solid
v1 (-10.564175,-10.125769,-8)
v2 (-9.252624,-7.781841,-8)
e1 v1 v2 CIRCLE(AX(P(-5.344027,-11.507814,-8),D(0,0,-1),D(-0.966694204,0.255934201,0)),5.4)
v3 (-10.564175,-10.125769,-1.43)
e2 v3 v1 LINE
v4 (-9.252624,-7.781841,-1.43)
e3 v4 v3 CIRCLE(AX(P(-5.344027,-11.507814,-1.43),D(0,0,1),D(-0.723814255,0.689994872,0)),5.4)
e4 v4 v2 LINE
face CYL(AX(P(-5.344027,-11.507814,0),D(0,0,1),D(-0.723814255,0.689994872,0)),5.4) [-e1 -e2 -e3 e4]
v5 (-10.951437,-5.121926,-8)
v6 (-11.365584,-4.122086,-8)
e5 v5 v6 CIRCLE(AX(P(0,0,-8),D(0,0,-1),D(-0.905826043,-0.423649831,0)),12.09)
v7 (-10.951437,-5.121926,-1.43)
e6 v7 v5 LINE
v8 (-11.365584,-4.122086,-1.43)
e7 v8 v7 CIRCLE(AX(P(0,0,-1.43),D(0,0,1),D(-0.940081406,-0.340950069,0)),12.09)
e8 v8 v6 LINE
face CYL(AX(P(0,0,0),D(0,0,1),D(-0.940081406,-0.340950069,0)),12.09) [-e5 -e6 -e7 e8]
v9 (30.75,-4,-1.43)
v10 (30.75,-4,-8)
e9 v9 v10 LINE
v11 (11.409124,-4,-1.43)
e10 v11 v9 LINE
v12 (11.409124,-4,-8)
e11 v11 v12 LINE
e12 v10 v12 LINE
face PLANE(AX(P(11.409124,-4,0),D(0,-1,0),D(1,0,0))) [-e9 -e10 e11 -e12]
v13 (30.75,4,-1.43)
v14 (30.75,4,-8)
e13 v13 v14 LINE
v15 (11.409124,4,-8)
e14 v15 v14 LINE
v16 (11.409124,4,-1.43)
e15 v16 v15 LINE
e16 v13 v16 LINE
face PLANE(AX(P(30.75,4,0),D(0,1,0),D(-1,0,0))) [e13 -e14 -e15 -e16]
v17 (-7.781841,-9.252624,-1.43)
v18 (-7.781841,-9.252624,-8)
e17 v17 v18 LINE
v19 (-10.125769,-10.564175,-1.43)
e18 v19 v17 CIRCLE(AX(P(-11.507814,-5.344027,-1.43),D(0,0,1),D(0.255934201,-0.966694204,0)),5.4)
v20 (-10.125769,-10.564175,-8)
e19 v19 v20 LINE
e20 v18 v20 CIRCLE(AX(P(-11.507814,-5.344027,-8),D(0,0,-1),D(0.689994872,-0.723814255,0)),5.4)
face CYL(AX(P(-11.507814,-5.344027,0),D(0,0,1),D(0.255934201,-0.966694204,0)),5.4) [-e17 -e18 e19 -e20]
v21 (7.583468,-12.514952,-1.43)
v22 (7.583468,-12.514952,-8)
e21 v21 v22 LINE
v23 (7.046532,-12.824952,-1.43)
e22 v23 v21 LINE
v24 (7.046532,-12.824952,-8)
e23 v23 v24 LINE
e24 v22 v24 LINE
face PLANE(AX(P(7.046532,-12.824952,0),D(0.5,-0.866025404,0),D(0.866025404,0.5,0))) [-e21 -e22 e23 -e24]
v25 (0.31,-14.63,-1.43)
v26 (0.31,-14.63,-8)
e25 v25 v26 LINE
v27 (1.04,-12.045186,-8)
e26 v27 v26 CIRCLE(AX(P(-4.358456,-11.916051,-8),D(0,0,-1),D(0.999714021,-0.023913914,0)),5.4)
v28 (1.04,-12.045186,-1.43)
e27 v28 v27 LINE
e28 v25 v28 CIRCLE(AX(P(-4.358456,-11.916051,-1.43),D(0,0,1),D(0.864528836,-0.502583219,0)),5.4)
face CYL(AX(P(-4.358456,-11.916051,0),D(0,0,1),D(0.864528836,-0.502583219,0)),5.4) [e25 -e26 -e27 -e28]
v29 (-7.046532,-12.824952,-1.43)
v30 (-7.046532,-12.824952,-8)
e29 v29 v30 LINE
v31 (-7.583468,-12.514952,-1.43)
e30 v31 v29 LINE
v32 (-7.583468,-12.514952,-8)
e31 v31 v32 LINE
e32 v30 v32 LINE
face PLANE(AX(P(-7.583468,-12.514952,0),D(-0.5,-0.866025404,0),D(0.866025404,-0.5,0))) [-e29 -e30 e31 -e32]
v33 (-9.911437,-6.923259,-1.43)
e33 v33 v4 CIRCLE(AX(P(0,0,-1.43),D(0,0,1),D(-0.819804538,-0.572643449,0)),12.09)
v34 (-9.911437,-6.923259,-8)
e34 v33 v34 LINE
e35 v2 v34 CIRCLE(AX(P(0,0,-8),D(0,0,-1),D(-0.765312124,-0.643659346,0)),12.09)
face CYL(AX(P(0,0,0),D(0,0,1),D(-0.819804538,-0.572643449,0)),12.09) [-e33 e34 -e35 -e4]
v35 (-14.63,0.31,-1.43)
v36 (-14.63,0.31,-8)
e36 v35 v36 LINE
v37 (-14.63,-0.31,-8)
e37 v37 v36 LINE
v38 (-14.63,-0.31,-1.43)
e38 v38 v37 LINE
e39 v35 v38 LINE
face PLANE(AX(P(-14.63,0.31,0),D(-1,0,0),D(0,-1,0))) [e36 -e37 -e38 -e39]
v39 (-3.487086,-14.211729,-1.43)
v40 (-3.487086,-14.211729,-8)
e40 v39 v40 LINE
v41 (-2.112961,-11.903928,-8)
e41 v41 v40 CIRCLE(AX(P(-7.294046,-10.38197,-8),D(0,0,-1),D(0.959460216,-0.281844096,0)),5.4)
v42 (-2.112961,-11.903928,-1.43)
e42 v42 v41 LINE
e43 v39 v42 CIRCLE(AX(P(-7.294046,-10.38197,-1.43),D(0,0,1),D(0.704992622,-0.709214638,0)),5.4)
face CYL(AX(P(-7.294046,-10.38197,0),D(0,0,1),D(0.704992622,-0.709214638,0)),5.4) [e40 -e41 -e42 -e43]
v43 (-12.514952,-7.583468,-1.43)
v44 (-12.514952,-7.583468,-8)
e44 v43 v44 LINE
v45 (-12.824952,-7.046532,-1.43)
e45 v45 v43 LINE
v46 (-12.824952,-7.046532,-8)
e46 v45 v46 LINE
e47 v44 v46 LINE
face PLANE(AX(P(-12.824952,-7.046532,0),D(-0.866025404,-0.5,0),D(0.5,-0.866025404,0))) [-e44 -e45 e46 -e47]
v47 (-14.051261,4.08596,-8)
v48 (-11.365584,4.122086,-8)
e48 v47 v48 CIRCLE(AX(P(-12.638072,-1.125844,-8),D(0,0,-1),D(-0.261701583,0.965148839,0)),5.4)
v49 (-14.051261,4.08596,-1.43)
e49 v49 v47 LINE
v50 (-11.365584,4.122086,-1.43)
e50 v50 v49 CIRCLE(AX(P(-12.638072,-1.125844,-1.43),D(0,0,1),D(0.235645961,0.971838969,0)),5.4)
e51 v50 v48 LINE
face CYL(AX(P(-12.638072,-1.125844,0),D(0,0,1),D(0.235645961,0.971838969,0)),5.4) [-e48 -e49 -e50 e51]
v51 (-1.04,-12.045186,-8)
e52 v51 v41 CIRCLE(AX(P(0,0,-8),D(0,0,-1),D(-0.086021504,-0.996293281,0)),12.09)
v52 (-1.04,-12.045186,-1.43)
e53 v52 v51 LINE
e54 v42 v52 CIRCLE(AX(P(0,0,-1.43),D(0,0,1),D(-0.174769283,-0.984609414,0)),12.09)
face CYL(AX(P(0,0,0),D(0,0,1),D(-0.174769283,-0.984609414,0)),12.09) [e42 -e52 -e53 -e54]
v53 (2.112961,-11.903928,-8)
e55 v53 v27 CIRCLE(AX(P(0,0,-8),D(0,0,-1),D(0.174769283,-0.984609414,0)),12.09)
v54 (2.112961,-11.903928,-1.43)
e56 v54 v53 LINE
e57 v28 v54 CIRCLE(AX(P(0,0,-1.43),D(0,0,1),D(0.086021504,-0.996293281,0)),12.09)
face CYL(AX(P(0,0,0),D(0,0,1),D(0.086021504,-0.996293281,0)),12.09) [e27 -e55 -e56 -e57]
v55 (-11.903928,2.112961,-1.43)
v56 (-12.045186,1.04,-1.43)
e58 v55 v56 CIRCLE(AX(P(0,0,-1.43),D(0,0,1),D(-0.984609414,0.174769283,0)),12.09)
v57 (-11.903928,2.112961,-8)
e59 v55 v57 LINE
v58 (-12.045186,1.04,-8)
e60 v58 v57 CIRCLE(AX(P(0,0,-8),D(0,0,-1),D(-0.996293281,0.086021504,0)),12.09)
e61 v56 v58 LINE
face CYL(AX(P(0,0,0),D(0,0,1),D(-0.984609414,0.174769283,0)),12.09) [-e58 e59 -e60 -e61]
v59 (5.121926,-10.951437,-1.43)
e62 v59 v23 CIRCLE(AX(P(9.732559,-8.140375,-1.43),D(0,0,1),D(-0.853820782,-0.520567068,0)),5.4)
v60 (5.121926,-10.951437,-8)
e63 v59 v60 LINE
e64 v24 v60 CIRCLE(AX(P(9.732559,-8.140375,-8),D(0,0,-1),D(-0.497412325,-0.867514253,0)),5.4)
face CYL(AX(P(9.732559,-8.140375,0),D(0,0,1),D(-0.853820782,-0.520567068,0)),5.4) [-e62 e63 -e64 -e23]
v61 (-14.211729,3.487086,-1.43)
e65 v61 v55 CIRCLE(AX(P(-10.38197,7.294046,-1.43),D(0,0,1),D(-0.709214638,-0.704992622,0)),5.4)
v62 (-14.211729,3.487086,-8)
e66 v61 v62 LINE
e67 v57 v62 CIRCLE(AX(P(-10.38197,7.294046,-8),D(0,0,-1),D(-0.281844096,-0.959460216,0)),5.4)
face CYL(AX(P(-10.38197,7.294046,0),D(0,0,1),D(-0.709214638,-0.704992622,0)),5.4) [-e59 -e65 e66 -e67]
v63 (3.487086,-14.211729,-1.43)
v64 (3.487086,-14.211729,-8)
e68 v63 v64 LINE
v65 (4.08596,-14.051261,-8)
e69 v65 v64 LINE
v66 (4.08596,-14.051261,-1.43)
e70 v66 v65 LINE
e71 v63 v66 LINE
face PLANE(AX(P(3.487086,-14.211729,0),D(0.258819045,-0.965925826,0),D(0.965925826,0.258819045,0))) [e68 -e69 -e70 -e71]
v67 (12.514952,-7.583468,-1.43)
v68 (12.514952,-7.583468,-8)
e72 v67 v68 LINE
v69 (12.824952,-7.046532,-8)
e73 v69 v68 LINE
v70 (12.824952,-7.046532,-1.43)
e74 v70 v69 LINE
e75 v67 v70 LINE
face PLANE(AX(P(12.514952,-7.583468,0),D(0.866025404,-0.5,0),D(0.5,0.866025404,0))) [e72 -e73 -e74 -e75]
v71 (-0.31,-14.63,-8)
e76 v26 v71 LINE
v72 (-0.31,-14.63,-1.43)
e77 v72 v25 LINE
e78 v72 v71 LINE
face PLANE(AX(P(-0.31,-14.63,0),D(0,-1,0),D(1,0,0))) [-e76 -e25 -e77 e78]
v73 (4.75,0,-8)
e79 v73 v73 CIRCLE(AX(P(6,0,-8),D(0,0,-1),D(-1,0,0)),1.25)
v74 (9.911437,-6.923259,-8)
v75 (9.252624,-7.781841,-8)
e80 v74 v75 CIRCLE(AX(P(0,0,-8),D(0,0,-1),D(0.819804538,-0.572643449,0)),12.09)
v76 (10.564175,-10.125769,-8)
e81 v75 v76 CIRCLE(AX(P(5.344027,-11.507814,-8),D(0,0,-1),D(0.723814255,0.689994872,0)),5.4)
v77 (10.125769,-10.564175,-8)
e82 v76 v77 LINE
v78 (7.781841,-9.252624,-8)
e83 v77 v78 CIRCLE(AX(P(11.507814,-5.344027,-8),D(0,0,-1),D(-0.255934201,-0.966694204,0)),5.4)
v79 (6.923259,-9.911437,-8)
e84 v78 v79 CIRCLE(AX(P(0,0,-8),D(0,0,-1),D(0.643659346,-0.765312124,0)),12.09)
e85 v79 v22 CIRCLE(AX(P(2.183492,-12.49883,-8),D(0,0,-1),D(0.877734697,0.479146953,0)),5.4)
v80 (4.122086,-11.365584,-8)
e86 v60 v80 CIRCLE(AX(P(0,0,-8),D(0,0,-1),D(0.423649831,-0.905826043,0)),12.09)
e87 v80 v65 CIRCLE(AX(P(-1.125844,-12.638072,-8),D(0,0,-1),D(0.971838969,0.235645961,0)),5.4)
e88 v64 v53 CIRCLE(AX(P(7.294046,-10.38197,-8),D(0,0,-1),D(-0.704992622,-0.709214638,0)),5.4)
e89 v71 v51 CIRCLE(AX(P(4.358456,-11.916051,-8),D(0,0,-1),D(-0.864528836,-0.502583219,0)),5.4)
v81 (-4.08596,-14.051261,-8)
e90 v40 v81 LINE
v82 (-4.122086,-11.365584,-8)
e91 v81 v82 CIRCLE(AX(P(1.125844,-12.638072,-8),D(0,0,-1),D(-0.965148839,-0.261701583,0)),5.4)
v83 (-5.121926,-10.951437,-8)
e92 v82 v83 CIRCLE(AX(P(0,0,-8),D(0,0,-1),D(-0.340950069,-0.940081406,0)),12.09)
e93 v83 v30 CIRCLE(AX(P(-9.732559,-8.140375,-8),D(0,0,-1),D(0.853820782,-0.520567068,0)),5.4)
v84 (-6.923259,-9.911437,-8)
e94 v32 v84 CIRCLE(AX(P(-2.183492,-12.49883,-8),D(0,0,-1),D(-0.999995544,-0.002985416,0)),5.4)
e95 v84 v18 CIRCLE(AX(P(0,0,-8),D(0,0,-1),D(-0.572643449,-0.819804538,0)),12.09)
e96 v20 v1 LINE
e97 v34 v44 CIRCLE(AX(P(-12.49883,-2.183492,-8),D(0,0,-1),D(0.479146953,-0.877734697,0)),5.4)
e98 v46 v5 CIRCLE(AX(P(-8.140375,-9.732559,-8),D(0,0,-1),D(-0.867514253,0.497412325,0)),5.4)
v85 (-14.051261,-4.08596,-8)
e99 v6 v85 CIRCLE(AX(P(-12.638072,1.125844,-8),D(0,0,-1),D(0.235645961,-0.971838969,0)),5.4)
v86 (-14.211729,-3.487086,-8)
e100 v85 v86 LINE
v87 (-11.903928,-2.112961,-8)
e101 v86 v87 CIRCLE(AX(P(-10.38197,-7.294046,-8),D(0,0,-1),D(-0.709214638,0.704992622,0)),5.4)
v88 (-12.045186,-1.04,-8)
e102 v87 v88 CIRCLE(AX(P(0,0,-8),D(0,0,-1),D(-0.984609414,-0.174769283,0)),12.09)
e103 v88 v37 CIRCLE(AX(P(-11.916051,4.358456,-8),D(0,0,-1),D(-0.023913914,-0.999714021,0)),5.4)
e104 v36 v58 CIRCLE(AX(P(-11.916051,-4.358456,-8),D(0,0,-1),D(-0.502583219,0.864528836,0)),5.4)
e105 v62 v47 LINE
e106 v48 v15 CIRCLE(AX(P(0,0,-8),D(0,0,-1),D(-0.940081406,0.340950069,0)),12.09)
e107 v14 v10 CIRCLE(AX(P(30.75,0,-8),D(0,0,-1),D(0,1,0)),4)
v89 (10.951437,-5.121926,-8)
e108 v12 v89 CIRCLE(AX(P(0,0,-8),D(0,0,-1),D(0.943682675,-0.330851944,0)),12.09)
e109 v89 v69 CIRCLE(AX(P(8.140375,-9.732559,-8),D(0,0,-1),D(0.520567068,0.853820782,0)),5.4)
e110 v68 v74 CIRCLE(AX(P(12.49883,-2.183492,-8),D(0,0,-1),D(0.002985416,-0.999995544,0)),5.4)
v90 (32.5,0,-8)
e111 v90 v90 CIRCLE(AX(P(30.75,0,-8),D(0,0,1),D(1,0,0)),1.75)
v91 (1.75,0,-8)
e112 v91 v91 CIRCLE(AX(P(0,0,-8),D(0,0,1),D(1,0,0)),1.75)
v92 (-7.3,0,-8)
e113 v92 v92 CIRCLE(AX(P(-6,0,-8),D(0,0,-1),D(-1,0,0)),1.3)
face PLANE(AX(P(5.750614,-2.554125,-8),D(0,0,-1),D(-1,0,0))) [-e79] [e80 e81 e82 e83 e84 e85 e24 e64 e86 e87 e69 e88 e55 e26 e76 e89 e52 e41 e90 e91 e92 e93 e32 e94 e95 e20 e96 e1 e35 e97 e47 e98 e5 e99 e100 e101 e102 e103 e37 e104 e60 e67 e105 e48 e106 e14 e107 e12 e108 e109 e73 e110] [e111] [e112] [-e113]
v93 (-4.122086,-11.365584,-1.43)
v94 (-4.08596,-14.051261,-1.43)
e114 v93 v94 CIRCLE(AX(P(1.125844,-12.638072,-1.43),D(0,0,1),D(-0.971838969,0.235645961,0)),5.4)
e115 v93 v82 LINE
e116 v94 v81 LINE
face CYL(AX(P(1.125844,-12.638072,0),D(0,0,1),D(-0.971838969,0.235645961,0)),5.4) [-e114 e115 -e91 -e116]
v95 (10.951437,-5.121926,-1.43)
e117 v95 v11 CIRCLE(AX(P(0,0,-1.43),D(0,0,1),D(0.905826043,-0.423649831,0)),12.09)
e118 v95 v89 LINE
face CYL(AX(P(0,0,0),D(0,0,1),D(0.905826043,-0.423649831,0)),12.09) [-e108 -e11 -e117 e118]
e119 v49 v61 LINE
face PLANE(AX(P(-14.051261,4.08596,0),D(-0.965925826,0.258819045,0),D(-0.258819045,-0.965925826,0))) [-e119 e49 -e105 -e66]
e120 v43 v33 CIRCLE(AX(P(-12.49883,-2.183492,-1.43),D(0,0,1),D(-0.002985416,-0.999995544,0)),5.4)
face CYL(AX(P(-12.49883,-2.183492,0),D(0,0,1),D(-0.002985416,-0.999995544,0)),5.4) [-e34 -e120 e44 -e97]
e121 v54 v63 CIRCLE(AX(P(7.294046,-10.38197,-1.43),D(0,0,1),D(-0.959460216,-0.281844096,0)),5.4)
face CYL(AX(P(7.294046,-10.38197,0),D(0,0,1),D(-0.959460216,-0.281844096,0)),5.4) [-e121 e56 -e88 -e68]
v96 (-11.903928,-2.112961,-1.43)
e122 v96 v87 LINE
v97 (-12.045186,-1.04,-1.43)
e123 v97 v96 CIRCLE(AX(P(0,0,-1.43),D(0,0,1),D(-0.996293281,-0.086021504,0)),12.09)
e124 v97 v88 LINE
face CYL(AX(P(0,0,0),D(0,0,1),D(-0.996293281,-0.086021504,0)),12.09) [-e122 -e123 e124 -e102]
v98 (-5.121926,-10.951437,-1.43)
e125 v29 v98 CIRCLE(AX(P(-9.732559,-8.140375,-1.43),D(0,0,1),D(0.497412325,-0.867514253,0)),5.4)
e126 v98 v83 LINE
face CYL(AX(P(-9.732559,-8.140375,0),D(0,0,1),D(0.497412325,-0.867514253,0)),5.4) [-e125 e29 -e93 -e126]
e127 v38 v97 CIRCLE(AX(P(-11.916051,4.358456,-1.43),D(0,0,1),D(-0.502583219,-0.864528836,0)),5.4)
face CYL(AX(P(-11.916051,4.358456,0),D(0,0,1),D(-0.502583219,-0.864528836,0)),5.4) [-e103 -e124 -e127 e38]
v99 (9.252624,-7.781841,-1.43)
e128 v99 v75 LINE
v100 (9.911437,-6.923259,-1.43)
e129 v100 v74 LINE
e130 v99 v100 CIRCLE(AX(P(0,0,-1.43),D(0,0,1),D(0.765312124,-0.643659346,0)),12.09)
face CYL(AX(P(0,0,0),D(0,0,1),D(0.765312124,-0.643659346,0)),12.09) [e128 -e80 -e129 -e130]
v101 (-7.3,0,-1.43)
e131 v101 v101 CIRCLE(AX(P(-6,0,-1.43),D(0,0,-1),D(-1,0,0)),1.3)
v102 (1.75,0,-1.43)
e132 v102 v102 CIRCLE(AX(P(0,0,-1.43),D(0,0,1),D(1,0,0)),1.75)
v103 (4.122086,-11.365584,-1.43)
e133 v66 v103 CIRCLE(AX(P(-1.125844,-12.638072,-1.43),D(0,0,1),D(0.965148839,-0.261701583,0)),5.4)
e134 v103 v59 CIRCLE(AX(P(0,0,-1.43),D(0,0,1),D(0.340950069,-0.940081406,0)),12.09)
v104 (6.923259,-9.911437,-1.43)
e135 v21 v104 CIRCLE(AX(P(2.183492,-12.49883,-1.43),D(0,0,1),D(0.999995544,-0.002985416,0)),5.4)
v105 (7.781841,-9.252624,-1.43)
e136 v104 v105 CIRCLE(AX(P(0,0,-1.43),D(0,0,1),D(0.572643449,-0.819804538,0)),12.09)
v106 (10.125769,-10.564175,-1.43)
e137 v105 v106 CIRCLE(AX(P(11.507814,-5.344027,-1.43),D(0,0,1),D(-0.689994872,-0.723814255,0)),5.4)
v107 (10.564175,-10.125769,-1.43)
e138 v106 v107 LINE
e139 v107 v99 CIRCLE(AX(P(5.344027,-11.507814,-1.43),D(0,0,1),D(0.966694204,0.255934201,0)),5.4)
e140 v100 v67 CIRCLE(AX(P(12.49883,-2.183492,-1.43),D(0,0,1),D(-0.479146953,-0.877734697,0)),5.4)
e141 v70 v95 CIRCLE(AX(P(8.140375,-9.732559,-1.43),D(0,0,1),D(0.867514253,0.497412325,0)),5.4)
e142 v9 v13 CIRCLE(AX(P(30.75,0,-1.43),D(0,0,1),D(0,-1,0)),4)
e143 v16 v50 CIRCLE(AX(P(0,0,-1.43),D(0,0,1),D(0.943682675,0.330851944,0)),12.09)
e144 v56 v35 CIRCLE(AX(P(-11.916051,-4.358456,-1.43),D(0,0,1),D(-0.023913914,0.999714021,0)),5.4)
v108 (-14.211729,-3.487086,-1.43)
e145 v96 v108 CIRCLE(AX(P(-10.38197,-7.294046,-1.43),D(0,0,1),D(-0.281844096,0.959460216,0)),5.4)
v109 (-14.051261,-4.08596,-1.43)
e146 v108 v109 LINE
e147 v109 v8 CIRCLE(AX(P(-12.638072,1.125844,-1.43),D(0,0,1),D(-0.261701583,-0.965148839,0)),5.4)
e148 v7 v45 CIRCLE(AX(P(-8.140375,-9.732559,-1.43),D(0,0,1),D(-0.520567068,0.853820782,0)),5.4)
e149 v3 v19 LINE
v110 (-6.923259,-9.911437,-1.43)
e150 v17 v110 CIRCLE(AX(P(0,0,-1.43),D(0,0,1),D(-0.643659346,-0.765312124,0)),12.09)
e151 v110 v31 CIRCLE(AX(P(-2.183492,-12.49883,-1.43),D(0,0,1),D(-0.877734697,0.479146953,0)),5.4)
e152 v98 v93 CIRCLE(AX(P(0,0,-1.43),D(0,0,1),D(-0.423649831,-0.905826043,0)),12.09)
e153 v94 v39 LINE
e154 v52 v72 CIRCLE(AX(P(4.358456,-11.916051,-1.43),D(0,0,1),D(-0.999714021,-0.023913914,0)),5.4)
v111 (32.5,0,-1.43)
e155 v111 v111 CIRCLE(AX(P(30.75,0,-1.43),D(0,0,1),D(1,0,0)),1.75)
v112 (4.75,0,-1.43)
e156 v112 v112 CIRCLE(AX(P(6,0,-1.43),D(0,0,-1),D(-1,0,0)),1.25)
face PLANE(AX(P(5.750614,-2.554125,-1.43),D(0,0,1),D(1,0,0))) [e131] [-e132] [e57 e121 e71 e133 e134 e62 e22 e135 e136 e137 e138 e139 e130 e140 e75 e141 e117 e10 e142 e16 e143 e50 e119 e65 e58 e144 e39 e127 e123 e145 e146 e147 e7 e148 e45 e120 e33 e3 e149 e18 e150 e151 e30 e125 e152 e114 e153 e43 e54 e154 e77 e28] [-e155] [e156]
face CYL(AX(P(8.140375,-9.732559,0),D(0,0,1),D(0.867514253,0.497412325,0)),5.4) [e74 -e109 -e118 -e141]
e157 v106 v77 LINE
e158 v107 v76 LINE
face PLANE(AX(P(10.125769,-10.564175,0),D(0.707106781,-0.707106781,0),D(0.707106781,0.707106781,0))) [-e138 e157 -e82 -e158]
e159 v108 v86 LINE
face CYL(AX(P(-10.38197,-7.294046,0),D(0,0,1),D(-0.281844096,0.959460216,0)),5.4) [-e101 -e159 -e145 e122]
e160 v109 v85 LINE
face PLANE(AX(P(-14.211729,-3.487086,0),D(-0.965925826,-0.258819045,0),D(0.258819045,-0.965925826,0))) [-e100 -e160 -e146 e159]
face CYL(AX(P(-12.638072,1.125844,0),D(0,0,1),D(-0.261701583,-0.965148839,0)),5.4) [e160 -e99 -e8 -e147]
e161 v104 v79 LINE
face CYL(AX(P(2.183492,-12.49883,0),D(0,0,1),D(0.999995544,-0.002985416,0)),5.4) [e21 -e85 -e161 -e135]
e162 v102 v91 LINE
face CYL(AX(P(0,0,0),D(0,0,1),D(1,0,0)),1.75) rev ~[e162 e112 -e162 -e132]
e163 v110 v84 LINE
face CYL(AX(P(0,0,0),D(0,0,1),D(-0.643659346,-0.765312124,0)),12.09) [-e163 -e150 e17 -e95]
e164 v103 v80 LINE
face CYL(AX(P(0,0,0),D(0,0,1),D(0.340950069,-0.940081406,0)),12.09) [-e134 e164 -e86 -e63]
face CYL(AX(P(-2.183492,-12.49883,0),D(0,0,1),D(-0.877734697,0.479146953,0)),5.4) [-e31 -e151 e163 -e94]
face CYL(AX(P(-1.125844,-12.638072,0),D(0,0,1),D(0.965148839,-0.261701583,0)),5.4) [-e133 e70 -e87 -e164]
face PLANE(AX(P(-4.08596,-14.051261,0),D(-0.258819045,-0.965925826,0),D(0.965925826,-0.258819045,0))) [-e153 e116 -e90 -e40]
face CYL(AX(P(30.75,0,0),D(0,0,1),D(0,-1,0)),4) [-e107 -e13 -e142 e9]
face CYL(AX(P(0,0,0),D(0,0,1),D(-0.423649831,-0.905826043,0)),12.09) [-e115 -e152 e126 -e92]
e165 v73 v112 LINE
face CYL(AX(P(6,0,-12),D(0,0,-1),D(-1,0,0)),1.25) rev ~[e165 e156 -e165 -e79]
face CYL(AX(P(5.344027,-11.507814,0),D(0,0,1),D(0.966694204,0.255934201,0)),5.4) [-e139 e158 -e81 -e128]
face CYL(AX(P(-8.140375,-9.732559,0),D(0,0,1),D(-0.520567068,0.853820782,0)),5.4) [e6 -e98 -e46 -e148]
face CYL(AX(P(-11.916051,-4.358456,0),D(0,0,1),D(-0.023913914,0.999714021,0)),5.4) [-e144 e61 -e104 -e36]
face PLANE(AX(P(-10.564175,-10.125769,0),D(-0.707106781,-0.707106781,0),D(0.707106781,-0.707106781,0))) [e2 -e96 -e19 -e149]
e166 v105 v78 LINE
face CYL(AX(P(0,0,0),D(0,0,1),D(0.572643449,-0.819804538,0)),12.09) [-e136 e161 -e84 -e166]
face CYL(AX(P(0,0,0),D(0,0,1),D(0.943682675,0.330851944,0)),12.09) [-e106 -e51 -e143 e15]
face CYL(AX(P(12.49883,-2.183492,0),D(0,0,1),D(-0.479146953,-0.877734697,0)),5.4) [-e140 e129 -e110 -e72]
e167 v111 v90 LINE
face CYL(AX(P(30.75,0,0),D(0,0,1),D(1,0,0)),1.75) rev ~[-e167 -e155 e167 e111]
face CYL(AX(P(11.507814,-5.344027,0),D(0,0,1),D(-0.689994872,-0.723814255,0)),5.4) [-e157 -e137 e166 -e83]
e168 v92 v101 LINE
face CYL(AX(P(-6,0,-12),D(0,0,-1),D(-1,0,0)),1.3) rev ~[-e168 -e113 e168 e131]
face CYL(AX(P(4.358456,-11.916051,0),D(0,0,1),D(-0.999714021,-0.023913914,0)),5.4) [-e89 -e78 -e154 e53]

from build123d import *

# Parameters (mm, degrees)
SKETCH2_R           = 1.75
BOSS_EXTRUDE1_DEPTH = 12
SKETCH10_R          = 1.3
SKETCH10_R_2        = 1.25
CUT_EXTRUDE1_DEPTH  = 40.567655983
CUT_EXTRUDE2_START  = -4
CUT_EXTRUDE2_DEPTH  = 4
CUT_EXTRUDE3_DEPTH  = 0.57
CUT_EXTRUDE4_DEPTH  = 0.86


with BuildPart() as part:
    # Sketch2 → Boss-Extrude1 (new body)
    with BuildSketch(Plane.XY):
        with BuildLine():
            ThreePointArc((-11.365584201, 4.122086336), (-12.71070456, 4.273667417), (-14.051260935, 4.085959636))
            Line((-14.051260935, 4.085959636), (-14.211728743, 3.487085624))
            ThreePointArc((-14.211728743, 3.487085624), (-13.144626757, 2.65424773), (-11.903927815, 2.112960617))
            ThreePointArc((-11.903927815, 2.112960617), (-11.986568374, 1.578061664), (-12.04518576, 1.04))
            ThreePointArc((-12.04518576, 1.04), (-13.383704325, 0.838273314), (-14.63, 0.31))
            Line((-14.63, 0.31), (-14.63, -0.31))
            ThreePointArc((-14.63, -0.31), (-13.383704325, -0.838273314), (-12.04518576, -1.04))
            ThreePointArc((-12.04518576, -1.04), (-11.986568374, -1.578061664), (-11.903927815, -2.112960617))
            ThreePointArc((-11.903927815, -2.112960617), (-13.144626757, -2.65424773), (-14.211728743, -3.487085624))
            Line((-14.211728743, -3.487085624), (-14.051260935, -4.085959636))
            ThreePointArc((-14.051260935, -4.085959636), (-12.71070456, -4.273667417), (-11.365584201, -4.122086336))
            ThreePointArc((-11.365584201, -4.122086336), (-11.169703548, -4.626642697), (-10.951436862, -5.12192646))
            ThreePointArc((-10.951436862, -5.12192646), (-12.009764599, -5.965886177), (-12.824951657, -7.046532125))
            Line((-12.824951657, -7.046532125), (-12.514951657, -7.583467875))
            ThreePointArc((-12.514951657, -7.583467875), (-11.171491285, -7.417818147), (-9.911436862, -6.9232593))
            ThreePointArc((-9.911436862, -6.9232593), (-9.591641884, -7.359925677), (-9.252623584, -7.781841479))
            ThreePointArc((-9.252623584, -7.781841479), (-10.05645683, -8.870959341), (-10.564175311, -10.125769107))
            Line((-10.564175311, -10.125769107), (-10.125769107, -10.564175311))
            ThreePointArc((-10.125769107, -10.564175311), (-8.870959341, -10.05645683), (-7.781841479, -9.252623584))
            ThreePointArc((-7.781841479, -9.252623584), (-7.359925677, -9.591641884), (-6.9232593, -9.911436862))
            ThreePointArc((-6.9232593, -9.911436862), (-7.417818147, -11.171491285), (-7.583467875, -12.514951657))
            Line((-7.583467875, -12.514951657), (-7.046532125, -12.824951657))
            ThreePointArc((-7.046532125, -12.824951657), (-5.965886177, -12.009764599), (-5.12192646, -10.951436862))
            ThreePointArc((-5.12192646, -10.951436862), (-4.626642697, -11.169703548), (-4.122086336, -11.365584201))
            ThreePointArc((-4.122086336, -11.365584201), (-4.273667417, -12.71070456), (-4.085959636, -14.051260935))
            Line((-4.085959636, -14.051260935), (-3.487085624, -14.211728743))
            ThreePointArc((-3.487085624, -14.211728743), (-2.65424773, -13.144626757), (-2.112960617, -11.903927815))
            ThreePointArc((-2.112960617, -11.903927815), (-1.578061664, -11.986568374), (-1.04, -12.04518576))
            ThreePointArc((-1.04, -12.04518576), (-0.838273314, -13.383704325), (-0.31, -14.63))
            Line((-0.31, -14.63), (0.31, -14.63))
            ThreePointArc((0.31, -14.63), (0.838273314, -13.383704325), (1.04, -12.04518576))
            ThreePointArc((1.04, -12.04518576), (1.578061664, -11.986568374), (2.112960617, -11.903927815))
            ThreePointArc((2.112960617, -11.903927815), (2.65424773, -13.144626757), (3.487085624, -14.211728743))
            Line((3.487085624, -14.211728743), (4.085959636, -14.051260935))
            ThreePointArc((4.085959636, -14.051260935), (4.273667417, -12.71070456), (4.122086336, -11.365584201))
            ThreePointArc((4.122086336, -11.365584201), (4.626642697, -11.169703548), (5.12192646, -10.951436862))
            ThreePointArc((5.12192646, -10.951436862), (5.965886177, -12.009764599), (7.046532125, -12.824951657))
            Line((7.046532125, -12.824951657), (7.583467875, -12.514951657))
            ThreePointArc((7.583467875, -12.514951657), (7.417818147, -11.171491285), (6.9232593, -9.911436862))
            ThreePointArc((6.9232593, -9.911436862), (7.359925677, -9.591641884), (7.781841479, -9.252623584))
            ThreePointArc((7.781841479, -9.252623584), (8.870959341, -10.05645683), (10.125769107, -10.564175311))
            Line((10.125769107, -10.564175311), (10.564175311, -10.125769107))
            ThreePointArc((10.564175311, -10.125769107), (10.05645683, -8.870959341), (9.252623584, -7.781841479))
            ThreePointArc((9.252623584, -7.781841479), (9.591641884, -7.359925677), (9.911436862, -6.9232593))
            ThreePointArc((9.911436862, -6.9232593), (11.171491285, -7.417818147), (12.514951657, -7.583467875))
            Line((12.514951657, -7.583467875), (12.824951657, -7.046532125))
            ThreePointArc((12.824951657, -7.046532125), (12.009764599, -5.965886177), (10.951436862, -5.12192646))
            ThreePointArc((10.951436862, -5.12192646), (11.194344337, -4.566700654), (11.409123542, -4))
            Line((11.409123542, -4), (30.75, -4))
            ThreePointArc((30.75, -4), (34.75, 0), (30.75, 4))
            Line((30.75, 4), (11.409123542, 4))
            ThreePointArc((11.409123542, 4), (0.064808849, 12.089826294), (-11.365584201, 4.122086336))
        make_face()
        Circle(SKETCH2_R, mode=Mode.SUBTRACT)
        with Locations((30.75, 0)):
            Circle(SKETCH2_R, mode=Mode.SUBTRACT)
    extrude(amount=-BOSS_EXTRUDE1_DEPTH)

    # Sketch10 → Cut-Extrude1 (cut, through all)
    with BuildSketch(Plane(origin=(0, 0, -12), x_dir=(-1, 0, 0), z_dir=(0, 0, -1))):
        with Locations((6, 0)):
            Circle(SKETCH10_R)
        with Locations((-6, 0)):
            Circle(SKETCH10_R_2)
    extrude(amount=-CUT_EXTRUDE1_DEPTH, mode=Mode.SUBTRACT)

    # Sketch11 → Cut-Extrude2 (cut)
    with BuildSketch(Plane(origin=(0, 0, -12), x_dir=(-1, 0, 0), z_dir=(0, 0, -1)).offset(CUT_EXTRUDE2_START)):
        with BuildLine():
            Line((-11.409123542, 4), (-30.75, 4))
            ThreePointArc((-30.75, 4), (-34.75, 0), (-30.75, -4))
            Line((-30.75, -4), (-11.409123542, -4))
            ThreePointArc((-11.409123542, -4), (-11.194344337, -4.566700654), (-10.951436862, -5.12192646))
            ThreePointArc((-10.951436862, -5.12192646), (-12.009764599, -5.965886177), (-12.824951657, -7.046532125))
            Line((-12.824951657, -7.046532125), (-12.514951657, -7.583467875))
            ThreePointArc((-12.514951657, -7.583467875), (-11.171491285, -7.417818147), (-9.911436862, -6.9232593))
            ThreePointArc((-9.911436862, -6.9232593), (-9.591641884, -7.359925677), (-9.252623584, -7.781841479))
            ThreePointArc((-9.252623584, -7.781841479), (-10.05645683, -8.870959341), (-10.564175311, -10.125769107))
            Line((-10.564175311, -10.125769107), (-10.125769107, -10.564175311))
            ThreePointArc((-10.125769107, -10.564175311), (-8.870959341, -10.05645683), (-7.781841479, -9.252623584))
            ThreePointArc((-7.781841479, -9.252623584), (-7.359925677, -9.591641884), (-6.9232593, -9.911436862))
            ThreePointArc((-6.9232593, -9.911436862), (-7.417818147, -11.171491285), (-7.583467875, -12.514951657))
            Line((-7.583467875, -12.514951657), (-7.046532125, -12.824951657))
            ThreePointArc((-7.046532125, -12.824951657), (-5.965886177, -12.009764599), (-5.12192646, -10.951436862))
            ThreePointArc((-5.12192646, -10.951436862), (-4.626642697, -11.169703548), (-4.122086336, -11.365584201))
            ThreePointArc((-4.122086336, -11.365584201), (-4.273667417, -12.71070456), (-4.085959636, -14.051260935))
            Line((-4.085959636, -14.051260935), (-3.487085624, -14.211728743))
            ThreePointArc((-3.487085624, -14.211728743), (-2.65424773, -13.144626757), (-2.112960617, -11.903927815))
            ThreePointArc((-2.112960617, -11.903927815), (-1.578061664, -11.986568374), (-1.04, -12.04518576))
            ThreePointArc((-1.04, -12.04518576), (-0.838273314, -13.383704325), (-0.31, -14.63))
            Line((-0.31, -14.63), (0.31, -14.63))
            ThreePointArc((0.31, -14.63), (0.838273314, -13.383704325), (1.04, -12.04518576))
            ThreePointArc((1.04, -12.04518576), (1.578061664, -11.986568374), (2.112960617, -11.903927815))
            ThreePointArc((2.112960617, -11.903927815), (2.65424773, -13.144626757), (3.487085624, -14.211728743))
            Line((3.487085624, -14.211728743), (4.085959636, -14.051260935))
            ThreePointArc((4.085959636, -14.051260935), (4.273667417, -12.71070456), (4.122086336, -11.365584201))
            ThreePointArc((4.122086336, -11.365584201), (4.626642697, -11.169703548), (5.12192646, -10.951436862))
            ThreePointArc((5.12192646, -10.951436862), (5.965886177, -12.009764599), (7.046532125, -12.824951657))
            Line((7.046532125, -12.824951657), (7.583467875, -12.514951657))
            ThreePointArc((7.583467875, -12.514951657), (7.417818147, -11.171491285), (6.9232593, -9.911436862))
            ThreePointArc((6.9232593, -9.911436862), (7.359925677, -9.591641884), (7.781841479, -9.252623584))
            ThreePointArc((7.781841479, -9.252623584), (8.870959341, -10.05645683), (10.125769107, -10.564175311))
            Line((10.125769107, -10.564175311), (10.564175311, -10.125769107))
            ThreePointArc((10.564175311, -10.125769107), (10.05645683, -8.870959341), (9.252623584, -7.781841479))
            ThreePointArc((9.252623584, -7.781841479), (9.591641884, -7.359925677), (9.911436862, -6.9232593))
            ThreePointArc((9.911436862, -6.9232593), (11.171491285, -7.417818147), (12.514951657, -7.583467875))
            Line((12.514951657, -7.583467875), (12.824951657, -7.046532125))
            ThreePointArc((12.824951657, -7.046532125), (12.009764599, -5.965886177), (10.951436862, -5.12192646))
            ThreePointArc((10.951436862, -5.12192646), (11.169703548, -4.626642697), (11.365584201, -4.122086336))
            ThreePointArc((11.365584201, -4.122086336), (12.71070456, -4.273667417), (14.051260935, -4.085959636))
            Line((14.051260935, -4.085959636), (14.211728743, -3.487085624))
            ThreePointArc((14.211728743, -3.487085624), (13.144626757, -2.65424773), (11.903927815, -2.112960617))
            ThreePointArc((11.903927815, -2.112960617), (11.986568374, -1.578061664), (12.04518576, -1.04))
            ThreePointArc((12.04518576, -1.04), (13.383704325, -0.838273314), (14.63, -0.31))
            Line((14.63, -0.31), (14.63, 0.31))
            ThreePointArc((14.63, 0.31), (13.383704325, 0.838273314), (12.04518576, 1.04))
            ThreePointArc((12.04518576, 1.04), (11.986568374, 1.578061664), (11.903927815, 2.112960617))
            ThreePointArc((11.903927815, 2.112960617), (13.144626757, 2.65424773), (14.211728743, 3.487085624))
            Line((14.211728743, 3.487085624), (14.051260935, 4.085959636))
            ThreePointArc((14.051260935, 4.085959636), (12.71070456, 4.273667417), (11.365584201, 4.122086336))
            ThreePointArc((11.365584201, 4.122086336), (-0.064808849, 12.089826294), (-11.409123542, 4))
        make_face()
    extrude(amount=CUT_EXTRUDE2_DEPTH, mode=Mode.SUBTRACT)

    # Sketch12 → Cut-Extrude3 (cut)
    with BuildSketch(Plane.XY):
        with BuildLine():
            Line((30.75, 4), (11.409123542, 4))
            ThreePointArc((11.409123542, 4), (0.064808849, 12.089826294), (-11.365584201, 4.122086336))
            ThreePointArc((-11.365584201, 4.122086336), (-12.71070456, 4.273667417), (-14.051260935, 4.085959636))
            Line((-14.051260935, 4.085959636), (-14.211728743, 3.487085624))
            ThreePointArc((-14.211728743, 3.487085624), (-13.144626757, 2.65424773), (-11.903927815, 2.112960617))
            ThreePointArc((-11.903927815, 2.112960617), (-11.986568374, 1.578061664), (-12.04518576, 1.04))
            ThreePointArc((-12.04518576, 1.04), (-13.383704325, 0.838273314), (-14.63, 0.31))
            Line((-14.63, 0.31), (-14.63, -0.31))
            ThreePointArc((-14.63, -0.31), (-13.383704325, -0.838273314), (-12.04518576, -1.04))
            ThreePointArc((-12.04518576, -1.04), (-11.986568374, -1.578061664), (-11.903927815, -2.112960617))
            ThreePointArc((-11.903927815, -2.112960617), (-13.144626757, -2.65424773), (-14.211728743, -3.487085624))
            Line((-14.211728743, -3.487085624), (-14.051260935, -4.085959636))
            ThreePointArc((-14.051260935, -4.085959636), (-12.71070456, -4.273667417), (-11.365584201, -4.122086336))
            ThreePointArc((-11.365584201, -4.122086336), (-11.169703548, -4.626642697), (-10.951436862, -5.12192646))
            ThreePointArc((-10.951436862, -5.12192646), (-12.009764599, -5.965886177), (-12.824951657, -7.046532125))
            Line((-12.824951657, -7.046532125), (-12.514951657, -7.583467875))
            ThreePointArc((-12.514951657, -7.583467875), (-11.171491285, -7.417818147), (-9.911436862, -6.9232593))
            ThreePointArc((-9.911436862, -6.9232593), (-9.591641884, -7.359925677), (-9.252623584, -7.781841479))
            ThreePointArc((-9.252623584, -7.781841479), (-10.05645683, -8.870959341), (-10.564175311, -10.125769107))
            Line((-10.564175311, -10.125769107), (-10.125769107, -10.564175311))
            ThreePointArc((-10.125769107, -10.564175311), (-8.870959341, -10.05645683), (-7.781841479, -9.252623584))
            ThreePointArc((-7.781841479, -9.252623584), (-7.359925677, -9.591641884), (-6.9232593, -9.911436862))
            ThreePointArc((-6.9232593, -9.911436862), (-7.417818147, -11.171491285), (-7.583467875, -12.514951657))
            Line((-7.583467875, -12.514951657), (-7.046532125, -12.824951657))
            ThreePointArc((-7.046532125, -12.824951657), (-5.965886177, -12.009764599), (-5.12192646, -10.951436862))
            ThreePointArc((-5.12192646, -10.951436862), (-4.626642697, -11.169703548), (-4.122086336, -11.365584201))
            ThreePointArc((-4.122086336, -11.365584201), (-4.273667417, -12.71070456), (-4.085959636, -14.051260935))
            Line((-4.085959636, -14.051260935), (-3.487085624, -14.211728743))
            ThreePointArc((-3.487085624, -14.211728743), (-2.65424773, -13.144626757), (-2.112960617, -11.903927815))
            ThreePointArc((-2.112960617, -11.903927815), (-1.578061664, -11.986568374), (-1.04, -12.04518576))
            ThreePointArc((-1.04, -12.04518576), (-0.838273314, -13.383704325), (-0.31, -14.63))
            Line((-0.31, -14.63), (0.31, -14.63))
            ThreePointArc((0.31, -14.63), (0.838273314, -13.383704325), (1.04, -12.04518576))
            ThreePointArc((1.04, -12.04518576), (1.578061664, -11.986568374), (2.112960617, -11.903927815))
            ThreePointArc((2.112960617, -11.903927815), (2.65424773, -13.144626757), (3.487085624, -14.211728743))
            Line((3.487085624, -14.211728743), (4.085959636, -14.051260935))
            ThreePointArc((4.085959636, -14.051260935), (4.273667417, -12.71070456), (4.122086336, -11.365584201))
            ThreePointArc((4.122086336, -11.365584201), (4.626642697, -11.169703548), (5.12192646, -10.951436862))
            ThreePointArc((5.12192646, -10.951436862), (5.965886177, -12.009764599), (7.046532125, -12.824951657))
            Line((7.046532125, -12.824951657), (7.583467875, -12.514951657))
            ThreePointArc((7.583467875, -12.514951657), (7.417818147, -11.171491285), (6.9232593, -9.911436862))
            ThreePointArc((6.9232593, -9.911436862), (7.359925677, -9.591641884), (7.781841479, -9.252623584))
            ThreePointArc((7.781841479, -9.252623584), (8.870959341, -10.05645683), (10.125769107, -10.564175311))
            Line((10.125769107, -10.564175311), (10.564175311, -10.125769107))
            ThreePointArc((10.564175311, -10.125769107), (10.05645683, -8.870959341), (9.252623584, -7.781841479))
            ThreePointArc((9.252623584, -7.781841479), (9.591641884, -7.359925677), (9.911436862, -6.9232593))
            ThreePointArc((9.911436862, -6.9232593), (11.171491285, -7.417818147), (12.514951657, -7.583467875))
            Line((12.514951657, -7.583467875), (12.824951657, -7.046532125))
            ThreePointArc((12.824951657, -7.046532125), (12.009764599, -5.965886177), (10.951436862, -5.12192646))
            ThreePointArc((10.951436862, -5.12192646), (11.194344337, -4.566700654), (11.409123542, -4))
            Line((11.409123542, -4), (30.75, -4))
            ThreePointArc((30.75, -4), (34.75, 0), (30.75, 4))
        make_face()
    extrude(amount=-CUT_EXTRUDE3_DEPTH, mode=Mode.SUBTRACT)

    # Sketch16 → Cut-Extrude4 (cut)
    with BuildSketch(Plane.XY.offset(-0.57)):
        with BuildLine():
            Line((11.409123542, -4), (30.75, -4))
            ThreePointArc((30.75, -4), (34.75, 0), (30.75, 4))
            Line((30.75, 4), (11.409123542, 4))
            ThreePointArc((11.409123542, 4), (0.064808849, 12.089826294), (-11.365584201, 4.122086336))
            ThreePointArc((-11.365584201, 4.122086336), (-12.71070456, 4.273667417), (-14.051260935, 4.085959636))
            Line((-14.051260935, 4.085959636), (-14.211728743, 3.487085624))
            ThreePointArc((-14.211728743, 3.487085624), (-13.144626757, 2.65424773), (-11.903927815, 2.112960617))
            ThreePointArc((-11.903927815, 2.112960617), (-11.986568374, 1.578061664), (-12.04518576, 1.04))
            ThreePointArc((-12.04518576, 1.04), (-13.383704325, 0.838273314), (-14.63, 0.31))
            Line((-14.63, 0.31), (-14.63, -0.31))
            ThreePointArc((-14.63, -0.31), (-13.383704325, -0.838273314), (-12.04518576, -1.04))
            ThreePointArc((-12.04518576, -1.04), (-11.986568374, -1.578061664), (-11.903927815, -2.112960617))
            ThreePointArc((-11.903927815, -2.112960617), (-13.144626757, -2.65424773), (-14.211728743, -3.487085624))
            Line((-14.211728743, -3.487085624), (-14.051260935, -4.085959636))
            ThreePointArc((-14.051260935, -4.085959636), (-12.71070456, -4.273667417), (-11.365584201, -4.122086336))
            ThreePointArc((-11.365584201, -4.122086336), (-11.169703548, -4.626642697), (-10.951436862, -5.12192646))
            ThreePointArc((-10.951436862, -5.12192646), (-12.009764599, -5.965886177), (-12.824951657, -7.046532125))
            Line((-12.824951657, -7.046532125), (-12.514951657, -7.583467875))
            ThreePointArc((-12.514951657, -7.583467875), (-11.171491285, -7.417818147), (-9.911436862, -6.9232593))
            ThreePointArc((-9.911436862, -6.9232593), (-9.591641884, -7.359925677), (-9.252623584, -7.781841479))
            ThreePointArc((-9.252623584, -7.781841479), (-10.05645683, -8.870959341), (-10.564175311, -10.125769107))
            Line((-10.564175311, -10.125769107), (-10.125769107, -10.564175311))
            ThreePointArc((-10.125769107, -10.564175311), (-8.870959341, -10.05645683), (-7.781841479, -9.252623584))
            ThreePointArc((-7.781841479, -9.252623584), (-7.359925677, -9.591641884), (-6.9232593, -9.911436862))
            ThreePointArc((-6.9232593, -9.911436862), (-7.417818147, -11.171491285), (-7.583467875, -12.514951657))
            Line((-7.583467875, -12.514951657), (-7.046532125, -12.824951657))
            ThreePointArc((-7.046532125, -12.824951657), (-5.965886177, -12.009764599), (-5.12192646, -10.951436862))
            ThreePointArc((-5.12192646, -10.951436862), (-4.626642697, -11.169703548), (-4.122086336, -11.365584201))
            ThreePointArc((-4.122086336, -11.365584201), (-4.273667417, -12.71070456), (-4.085959636, -14.051260935))
            Line((-4.085959636, -14.051260935), (-3.487085624, -14.211728743))
            ThreePointArc((-3.487085624, -14.211728743), (-2.65424773, -13.144626757), (-2.112960617, -11.903927815))
            ThreePointArc((-2.112960617, -11.903927815), (-1.578061664, -11.986568374), (-1.04, -12.04518576))
            ThreePointArc((-1.04, -12.04518576), (-0.838273314, -13.383704325), (-0.31, -14.63))
            Line((-0.31, -14.63), (0.31, -14.63))
            ThreePointArc((0.31, -14.63), (0.838273314, -13.383704325), (1.04, -12.04518576))
            ThreePointArc((1.04, -12.04518576), (1.578061664, -11.986568374), (2.112960617, -11.903927815))
            ThreePointArc((2.112960617, -11.903927815), (2.65424773, -13.144626757), (3.487085624, -14.211728743))
            Line((3.487085624, -14.211728743), (4.085959636, -14.051260935))
            ThreePointArc((4.085959636, -14.051260935), (4.273667417, -12.71070456), (4.122086336, -11.365584201))
            ThreePointArc((4.122086336, -11.365584201), (4.626642697, -11.169703548), (5.12192646, -10.951436862))
            ThreePointArc((5.12192646, -10.951436862), (5.965886177, -12.009764599), (7.046532125, -12.824951657))
            Line((7.046532125, -12.824951657), (7.583467875, -12.514951657))
            ThreePointArc((7.583467875, -12.514951657), (7.417818147, -11.171491285), (6.9232593, -9.911436862))
            ThreePointArc((6.9232593, -9.911436862), (7.359925677, -9.591641884), (7.781841479, -9.252623584))
            ThreePointArc((7.781841479, -9.252623584), (8.870959341, -10.05645683), (10.125769107, -10.564175311))
            Line((10.125769107, -10.564175311), (10.564175311, -10.125769107))
            ThreePointArc((10.564175311, -10.125769107), (10.05645683, -8.870959341), (9.252623584, -7.781841479))
            ThreePointArc((9.252623584, -7.781841479), (9.591641884, -7.359925677), (9.911436862, -6.9232593))
            ThreePointArc((9.911436862, -6.9232593), (11.171491285, -7.417818147), (12.514951657, -7.583467875))
            Line((12.514951657, -7.583467875), (12.824951657, -7.046532125))
            ThreePointArc((12.824951657, -7.046532125), (12.009764599, -5.965886177), (10.951436862, -5.12192646))
            ThreePointArc((10.951436862, -5.12192646), (11.194344337, -4.566700654), (11.409123542, -4))
        make_face()
    extrude(amount=-CUT_EXTRUDE4_DEPTH, mode=Mode.SUBTRACT)


solid = part.part
